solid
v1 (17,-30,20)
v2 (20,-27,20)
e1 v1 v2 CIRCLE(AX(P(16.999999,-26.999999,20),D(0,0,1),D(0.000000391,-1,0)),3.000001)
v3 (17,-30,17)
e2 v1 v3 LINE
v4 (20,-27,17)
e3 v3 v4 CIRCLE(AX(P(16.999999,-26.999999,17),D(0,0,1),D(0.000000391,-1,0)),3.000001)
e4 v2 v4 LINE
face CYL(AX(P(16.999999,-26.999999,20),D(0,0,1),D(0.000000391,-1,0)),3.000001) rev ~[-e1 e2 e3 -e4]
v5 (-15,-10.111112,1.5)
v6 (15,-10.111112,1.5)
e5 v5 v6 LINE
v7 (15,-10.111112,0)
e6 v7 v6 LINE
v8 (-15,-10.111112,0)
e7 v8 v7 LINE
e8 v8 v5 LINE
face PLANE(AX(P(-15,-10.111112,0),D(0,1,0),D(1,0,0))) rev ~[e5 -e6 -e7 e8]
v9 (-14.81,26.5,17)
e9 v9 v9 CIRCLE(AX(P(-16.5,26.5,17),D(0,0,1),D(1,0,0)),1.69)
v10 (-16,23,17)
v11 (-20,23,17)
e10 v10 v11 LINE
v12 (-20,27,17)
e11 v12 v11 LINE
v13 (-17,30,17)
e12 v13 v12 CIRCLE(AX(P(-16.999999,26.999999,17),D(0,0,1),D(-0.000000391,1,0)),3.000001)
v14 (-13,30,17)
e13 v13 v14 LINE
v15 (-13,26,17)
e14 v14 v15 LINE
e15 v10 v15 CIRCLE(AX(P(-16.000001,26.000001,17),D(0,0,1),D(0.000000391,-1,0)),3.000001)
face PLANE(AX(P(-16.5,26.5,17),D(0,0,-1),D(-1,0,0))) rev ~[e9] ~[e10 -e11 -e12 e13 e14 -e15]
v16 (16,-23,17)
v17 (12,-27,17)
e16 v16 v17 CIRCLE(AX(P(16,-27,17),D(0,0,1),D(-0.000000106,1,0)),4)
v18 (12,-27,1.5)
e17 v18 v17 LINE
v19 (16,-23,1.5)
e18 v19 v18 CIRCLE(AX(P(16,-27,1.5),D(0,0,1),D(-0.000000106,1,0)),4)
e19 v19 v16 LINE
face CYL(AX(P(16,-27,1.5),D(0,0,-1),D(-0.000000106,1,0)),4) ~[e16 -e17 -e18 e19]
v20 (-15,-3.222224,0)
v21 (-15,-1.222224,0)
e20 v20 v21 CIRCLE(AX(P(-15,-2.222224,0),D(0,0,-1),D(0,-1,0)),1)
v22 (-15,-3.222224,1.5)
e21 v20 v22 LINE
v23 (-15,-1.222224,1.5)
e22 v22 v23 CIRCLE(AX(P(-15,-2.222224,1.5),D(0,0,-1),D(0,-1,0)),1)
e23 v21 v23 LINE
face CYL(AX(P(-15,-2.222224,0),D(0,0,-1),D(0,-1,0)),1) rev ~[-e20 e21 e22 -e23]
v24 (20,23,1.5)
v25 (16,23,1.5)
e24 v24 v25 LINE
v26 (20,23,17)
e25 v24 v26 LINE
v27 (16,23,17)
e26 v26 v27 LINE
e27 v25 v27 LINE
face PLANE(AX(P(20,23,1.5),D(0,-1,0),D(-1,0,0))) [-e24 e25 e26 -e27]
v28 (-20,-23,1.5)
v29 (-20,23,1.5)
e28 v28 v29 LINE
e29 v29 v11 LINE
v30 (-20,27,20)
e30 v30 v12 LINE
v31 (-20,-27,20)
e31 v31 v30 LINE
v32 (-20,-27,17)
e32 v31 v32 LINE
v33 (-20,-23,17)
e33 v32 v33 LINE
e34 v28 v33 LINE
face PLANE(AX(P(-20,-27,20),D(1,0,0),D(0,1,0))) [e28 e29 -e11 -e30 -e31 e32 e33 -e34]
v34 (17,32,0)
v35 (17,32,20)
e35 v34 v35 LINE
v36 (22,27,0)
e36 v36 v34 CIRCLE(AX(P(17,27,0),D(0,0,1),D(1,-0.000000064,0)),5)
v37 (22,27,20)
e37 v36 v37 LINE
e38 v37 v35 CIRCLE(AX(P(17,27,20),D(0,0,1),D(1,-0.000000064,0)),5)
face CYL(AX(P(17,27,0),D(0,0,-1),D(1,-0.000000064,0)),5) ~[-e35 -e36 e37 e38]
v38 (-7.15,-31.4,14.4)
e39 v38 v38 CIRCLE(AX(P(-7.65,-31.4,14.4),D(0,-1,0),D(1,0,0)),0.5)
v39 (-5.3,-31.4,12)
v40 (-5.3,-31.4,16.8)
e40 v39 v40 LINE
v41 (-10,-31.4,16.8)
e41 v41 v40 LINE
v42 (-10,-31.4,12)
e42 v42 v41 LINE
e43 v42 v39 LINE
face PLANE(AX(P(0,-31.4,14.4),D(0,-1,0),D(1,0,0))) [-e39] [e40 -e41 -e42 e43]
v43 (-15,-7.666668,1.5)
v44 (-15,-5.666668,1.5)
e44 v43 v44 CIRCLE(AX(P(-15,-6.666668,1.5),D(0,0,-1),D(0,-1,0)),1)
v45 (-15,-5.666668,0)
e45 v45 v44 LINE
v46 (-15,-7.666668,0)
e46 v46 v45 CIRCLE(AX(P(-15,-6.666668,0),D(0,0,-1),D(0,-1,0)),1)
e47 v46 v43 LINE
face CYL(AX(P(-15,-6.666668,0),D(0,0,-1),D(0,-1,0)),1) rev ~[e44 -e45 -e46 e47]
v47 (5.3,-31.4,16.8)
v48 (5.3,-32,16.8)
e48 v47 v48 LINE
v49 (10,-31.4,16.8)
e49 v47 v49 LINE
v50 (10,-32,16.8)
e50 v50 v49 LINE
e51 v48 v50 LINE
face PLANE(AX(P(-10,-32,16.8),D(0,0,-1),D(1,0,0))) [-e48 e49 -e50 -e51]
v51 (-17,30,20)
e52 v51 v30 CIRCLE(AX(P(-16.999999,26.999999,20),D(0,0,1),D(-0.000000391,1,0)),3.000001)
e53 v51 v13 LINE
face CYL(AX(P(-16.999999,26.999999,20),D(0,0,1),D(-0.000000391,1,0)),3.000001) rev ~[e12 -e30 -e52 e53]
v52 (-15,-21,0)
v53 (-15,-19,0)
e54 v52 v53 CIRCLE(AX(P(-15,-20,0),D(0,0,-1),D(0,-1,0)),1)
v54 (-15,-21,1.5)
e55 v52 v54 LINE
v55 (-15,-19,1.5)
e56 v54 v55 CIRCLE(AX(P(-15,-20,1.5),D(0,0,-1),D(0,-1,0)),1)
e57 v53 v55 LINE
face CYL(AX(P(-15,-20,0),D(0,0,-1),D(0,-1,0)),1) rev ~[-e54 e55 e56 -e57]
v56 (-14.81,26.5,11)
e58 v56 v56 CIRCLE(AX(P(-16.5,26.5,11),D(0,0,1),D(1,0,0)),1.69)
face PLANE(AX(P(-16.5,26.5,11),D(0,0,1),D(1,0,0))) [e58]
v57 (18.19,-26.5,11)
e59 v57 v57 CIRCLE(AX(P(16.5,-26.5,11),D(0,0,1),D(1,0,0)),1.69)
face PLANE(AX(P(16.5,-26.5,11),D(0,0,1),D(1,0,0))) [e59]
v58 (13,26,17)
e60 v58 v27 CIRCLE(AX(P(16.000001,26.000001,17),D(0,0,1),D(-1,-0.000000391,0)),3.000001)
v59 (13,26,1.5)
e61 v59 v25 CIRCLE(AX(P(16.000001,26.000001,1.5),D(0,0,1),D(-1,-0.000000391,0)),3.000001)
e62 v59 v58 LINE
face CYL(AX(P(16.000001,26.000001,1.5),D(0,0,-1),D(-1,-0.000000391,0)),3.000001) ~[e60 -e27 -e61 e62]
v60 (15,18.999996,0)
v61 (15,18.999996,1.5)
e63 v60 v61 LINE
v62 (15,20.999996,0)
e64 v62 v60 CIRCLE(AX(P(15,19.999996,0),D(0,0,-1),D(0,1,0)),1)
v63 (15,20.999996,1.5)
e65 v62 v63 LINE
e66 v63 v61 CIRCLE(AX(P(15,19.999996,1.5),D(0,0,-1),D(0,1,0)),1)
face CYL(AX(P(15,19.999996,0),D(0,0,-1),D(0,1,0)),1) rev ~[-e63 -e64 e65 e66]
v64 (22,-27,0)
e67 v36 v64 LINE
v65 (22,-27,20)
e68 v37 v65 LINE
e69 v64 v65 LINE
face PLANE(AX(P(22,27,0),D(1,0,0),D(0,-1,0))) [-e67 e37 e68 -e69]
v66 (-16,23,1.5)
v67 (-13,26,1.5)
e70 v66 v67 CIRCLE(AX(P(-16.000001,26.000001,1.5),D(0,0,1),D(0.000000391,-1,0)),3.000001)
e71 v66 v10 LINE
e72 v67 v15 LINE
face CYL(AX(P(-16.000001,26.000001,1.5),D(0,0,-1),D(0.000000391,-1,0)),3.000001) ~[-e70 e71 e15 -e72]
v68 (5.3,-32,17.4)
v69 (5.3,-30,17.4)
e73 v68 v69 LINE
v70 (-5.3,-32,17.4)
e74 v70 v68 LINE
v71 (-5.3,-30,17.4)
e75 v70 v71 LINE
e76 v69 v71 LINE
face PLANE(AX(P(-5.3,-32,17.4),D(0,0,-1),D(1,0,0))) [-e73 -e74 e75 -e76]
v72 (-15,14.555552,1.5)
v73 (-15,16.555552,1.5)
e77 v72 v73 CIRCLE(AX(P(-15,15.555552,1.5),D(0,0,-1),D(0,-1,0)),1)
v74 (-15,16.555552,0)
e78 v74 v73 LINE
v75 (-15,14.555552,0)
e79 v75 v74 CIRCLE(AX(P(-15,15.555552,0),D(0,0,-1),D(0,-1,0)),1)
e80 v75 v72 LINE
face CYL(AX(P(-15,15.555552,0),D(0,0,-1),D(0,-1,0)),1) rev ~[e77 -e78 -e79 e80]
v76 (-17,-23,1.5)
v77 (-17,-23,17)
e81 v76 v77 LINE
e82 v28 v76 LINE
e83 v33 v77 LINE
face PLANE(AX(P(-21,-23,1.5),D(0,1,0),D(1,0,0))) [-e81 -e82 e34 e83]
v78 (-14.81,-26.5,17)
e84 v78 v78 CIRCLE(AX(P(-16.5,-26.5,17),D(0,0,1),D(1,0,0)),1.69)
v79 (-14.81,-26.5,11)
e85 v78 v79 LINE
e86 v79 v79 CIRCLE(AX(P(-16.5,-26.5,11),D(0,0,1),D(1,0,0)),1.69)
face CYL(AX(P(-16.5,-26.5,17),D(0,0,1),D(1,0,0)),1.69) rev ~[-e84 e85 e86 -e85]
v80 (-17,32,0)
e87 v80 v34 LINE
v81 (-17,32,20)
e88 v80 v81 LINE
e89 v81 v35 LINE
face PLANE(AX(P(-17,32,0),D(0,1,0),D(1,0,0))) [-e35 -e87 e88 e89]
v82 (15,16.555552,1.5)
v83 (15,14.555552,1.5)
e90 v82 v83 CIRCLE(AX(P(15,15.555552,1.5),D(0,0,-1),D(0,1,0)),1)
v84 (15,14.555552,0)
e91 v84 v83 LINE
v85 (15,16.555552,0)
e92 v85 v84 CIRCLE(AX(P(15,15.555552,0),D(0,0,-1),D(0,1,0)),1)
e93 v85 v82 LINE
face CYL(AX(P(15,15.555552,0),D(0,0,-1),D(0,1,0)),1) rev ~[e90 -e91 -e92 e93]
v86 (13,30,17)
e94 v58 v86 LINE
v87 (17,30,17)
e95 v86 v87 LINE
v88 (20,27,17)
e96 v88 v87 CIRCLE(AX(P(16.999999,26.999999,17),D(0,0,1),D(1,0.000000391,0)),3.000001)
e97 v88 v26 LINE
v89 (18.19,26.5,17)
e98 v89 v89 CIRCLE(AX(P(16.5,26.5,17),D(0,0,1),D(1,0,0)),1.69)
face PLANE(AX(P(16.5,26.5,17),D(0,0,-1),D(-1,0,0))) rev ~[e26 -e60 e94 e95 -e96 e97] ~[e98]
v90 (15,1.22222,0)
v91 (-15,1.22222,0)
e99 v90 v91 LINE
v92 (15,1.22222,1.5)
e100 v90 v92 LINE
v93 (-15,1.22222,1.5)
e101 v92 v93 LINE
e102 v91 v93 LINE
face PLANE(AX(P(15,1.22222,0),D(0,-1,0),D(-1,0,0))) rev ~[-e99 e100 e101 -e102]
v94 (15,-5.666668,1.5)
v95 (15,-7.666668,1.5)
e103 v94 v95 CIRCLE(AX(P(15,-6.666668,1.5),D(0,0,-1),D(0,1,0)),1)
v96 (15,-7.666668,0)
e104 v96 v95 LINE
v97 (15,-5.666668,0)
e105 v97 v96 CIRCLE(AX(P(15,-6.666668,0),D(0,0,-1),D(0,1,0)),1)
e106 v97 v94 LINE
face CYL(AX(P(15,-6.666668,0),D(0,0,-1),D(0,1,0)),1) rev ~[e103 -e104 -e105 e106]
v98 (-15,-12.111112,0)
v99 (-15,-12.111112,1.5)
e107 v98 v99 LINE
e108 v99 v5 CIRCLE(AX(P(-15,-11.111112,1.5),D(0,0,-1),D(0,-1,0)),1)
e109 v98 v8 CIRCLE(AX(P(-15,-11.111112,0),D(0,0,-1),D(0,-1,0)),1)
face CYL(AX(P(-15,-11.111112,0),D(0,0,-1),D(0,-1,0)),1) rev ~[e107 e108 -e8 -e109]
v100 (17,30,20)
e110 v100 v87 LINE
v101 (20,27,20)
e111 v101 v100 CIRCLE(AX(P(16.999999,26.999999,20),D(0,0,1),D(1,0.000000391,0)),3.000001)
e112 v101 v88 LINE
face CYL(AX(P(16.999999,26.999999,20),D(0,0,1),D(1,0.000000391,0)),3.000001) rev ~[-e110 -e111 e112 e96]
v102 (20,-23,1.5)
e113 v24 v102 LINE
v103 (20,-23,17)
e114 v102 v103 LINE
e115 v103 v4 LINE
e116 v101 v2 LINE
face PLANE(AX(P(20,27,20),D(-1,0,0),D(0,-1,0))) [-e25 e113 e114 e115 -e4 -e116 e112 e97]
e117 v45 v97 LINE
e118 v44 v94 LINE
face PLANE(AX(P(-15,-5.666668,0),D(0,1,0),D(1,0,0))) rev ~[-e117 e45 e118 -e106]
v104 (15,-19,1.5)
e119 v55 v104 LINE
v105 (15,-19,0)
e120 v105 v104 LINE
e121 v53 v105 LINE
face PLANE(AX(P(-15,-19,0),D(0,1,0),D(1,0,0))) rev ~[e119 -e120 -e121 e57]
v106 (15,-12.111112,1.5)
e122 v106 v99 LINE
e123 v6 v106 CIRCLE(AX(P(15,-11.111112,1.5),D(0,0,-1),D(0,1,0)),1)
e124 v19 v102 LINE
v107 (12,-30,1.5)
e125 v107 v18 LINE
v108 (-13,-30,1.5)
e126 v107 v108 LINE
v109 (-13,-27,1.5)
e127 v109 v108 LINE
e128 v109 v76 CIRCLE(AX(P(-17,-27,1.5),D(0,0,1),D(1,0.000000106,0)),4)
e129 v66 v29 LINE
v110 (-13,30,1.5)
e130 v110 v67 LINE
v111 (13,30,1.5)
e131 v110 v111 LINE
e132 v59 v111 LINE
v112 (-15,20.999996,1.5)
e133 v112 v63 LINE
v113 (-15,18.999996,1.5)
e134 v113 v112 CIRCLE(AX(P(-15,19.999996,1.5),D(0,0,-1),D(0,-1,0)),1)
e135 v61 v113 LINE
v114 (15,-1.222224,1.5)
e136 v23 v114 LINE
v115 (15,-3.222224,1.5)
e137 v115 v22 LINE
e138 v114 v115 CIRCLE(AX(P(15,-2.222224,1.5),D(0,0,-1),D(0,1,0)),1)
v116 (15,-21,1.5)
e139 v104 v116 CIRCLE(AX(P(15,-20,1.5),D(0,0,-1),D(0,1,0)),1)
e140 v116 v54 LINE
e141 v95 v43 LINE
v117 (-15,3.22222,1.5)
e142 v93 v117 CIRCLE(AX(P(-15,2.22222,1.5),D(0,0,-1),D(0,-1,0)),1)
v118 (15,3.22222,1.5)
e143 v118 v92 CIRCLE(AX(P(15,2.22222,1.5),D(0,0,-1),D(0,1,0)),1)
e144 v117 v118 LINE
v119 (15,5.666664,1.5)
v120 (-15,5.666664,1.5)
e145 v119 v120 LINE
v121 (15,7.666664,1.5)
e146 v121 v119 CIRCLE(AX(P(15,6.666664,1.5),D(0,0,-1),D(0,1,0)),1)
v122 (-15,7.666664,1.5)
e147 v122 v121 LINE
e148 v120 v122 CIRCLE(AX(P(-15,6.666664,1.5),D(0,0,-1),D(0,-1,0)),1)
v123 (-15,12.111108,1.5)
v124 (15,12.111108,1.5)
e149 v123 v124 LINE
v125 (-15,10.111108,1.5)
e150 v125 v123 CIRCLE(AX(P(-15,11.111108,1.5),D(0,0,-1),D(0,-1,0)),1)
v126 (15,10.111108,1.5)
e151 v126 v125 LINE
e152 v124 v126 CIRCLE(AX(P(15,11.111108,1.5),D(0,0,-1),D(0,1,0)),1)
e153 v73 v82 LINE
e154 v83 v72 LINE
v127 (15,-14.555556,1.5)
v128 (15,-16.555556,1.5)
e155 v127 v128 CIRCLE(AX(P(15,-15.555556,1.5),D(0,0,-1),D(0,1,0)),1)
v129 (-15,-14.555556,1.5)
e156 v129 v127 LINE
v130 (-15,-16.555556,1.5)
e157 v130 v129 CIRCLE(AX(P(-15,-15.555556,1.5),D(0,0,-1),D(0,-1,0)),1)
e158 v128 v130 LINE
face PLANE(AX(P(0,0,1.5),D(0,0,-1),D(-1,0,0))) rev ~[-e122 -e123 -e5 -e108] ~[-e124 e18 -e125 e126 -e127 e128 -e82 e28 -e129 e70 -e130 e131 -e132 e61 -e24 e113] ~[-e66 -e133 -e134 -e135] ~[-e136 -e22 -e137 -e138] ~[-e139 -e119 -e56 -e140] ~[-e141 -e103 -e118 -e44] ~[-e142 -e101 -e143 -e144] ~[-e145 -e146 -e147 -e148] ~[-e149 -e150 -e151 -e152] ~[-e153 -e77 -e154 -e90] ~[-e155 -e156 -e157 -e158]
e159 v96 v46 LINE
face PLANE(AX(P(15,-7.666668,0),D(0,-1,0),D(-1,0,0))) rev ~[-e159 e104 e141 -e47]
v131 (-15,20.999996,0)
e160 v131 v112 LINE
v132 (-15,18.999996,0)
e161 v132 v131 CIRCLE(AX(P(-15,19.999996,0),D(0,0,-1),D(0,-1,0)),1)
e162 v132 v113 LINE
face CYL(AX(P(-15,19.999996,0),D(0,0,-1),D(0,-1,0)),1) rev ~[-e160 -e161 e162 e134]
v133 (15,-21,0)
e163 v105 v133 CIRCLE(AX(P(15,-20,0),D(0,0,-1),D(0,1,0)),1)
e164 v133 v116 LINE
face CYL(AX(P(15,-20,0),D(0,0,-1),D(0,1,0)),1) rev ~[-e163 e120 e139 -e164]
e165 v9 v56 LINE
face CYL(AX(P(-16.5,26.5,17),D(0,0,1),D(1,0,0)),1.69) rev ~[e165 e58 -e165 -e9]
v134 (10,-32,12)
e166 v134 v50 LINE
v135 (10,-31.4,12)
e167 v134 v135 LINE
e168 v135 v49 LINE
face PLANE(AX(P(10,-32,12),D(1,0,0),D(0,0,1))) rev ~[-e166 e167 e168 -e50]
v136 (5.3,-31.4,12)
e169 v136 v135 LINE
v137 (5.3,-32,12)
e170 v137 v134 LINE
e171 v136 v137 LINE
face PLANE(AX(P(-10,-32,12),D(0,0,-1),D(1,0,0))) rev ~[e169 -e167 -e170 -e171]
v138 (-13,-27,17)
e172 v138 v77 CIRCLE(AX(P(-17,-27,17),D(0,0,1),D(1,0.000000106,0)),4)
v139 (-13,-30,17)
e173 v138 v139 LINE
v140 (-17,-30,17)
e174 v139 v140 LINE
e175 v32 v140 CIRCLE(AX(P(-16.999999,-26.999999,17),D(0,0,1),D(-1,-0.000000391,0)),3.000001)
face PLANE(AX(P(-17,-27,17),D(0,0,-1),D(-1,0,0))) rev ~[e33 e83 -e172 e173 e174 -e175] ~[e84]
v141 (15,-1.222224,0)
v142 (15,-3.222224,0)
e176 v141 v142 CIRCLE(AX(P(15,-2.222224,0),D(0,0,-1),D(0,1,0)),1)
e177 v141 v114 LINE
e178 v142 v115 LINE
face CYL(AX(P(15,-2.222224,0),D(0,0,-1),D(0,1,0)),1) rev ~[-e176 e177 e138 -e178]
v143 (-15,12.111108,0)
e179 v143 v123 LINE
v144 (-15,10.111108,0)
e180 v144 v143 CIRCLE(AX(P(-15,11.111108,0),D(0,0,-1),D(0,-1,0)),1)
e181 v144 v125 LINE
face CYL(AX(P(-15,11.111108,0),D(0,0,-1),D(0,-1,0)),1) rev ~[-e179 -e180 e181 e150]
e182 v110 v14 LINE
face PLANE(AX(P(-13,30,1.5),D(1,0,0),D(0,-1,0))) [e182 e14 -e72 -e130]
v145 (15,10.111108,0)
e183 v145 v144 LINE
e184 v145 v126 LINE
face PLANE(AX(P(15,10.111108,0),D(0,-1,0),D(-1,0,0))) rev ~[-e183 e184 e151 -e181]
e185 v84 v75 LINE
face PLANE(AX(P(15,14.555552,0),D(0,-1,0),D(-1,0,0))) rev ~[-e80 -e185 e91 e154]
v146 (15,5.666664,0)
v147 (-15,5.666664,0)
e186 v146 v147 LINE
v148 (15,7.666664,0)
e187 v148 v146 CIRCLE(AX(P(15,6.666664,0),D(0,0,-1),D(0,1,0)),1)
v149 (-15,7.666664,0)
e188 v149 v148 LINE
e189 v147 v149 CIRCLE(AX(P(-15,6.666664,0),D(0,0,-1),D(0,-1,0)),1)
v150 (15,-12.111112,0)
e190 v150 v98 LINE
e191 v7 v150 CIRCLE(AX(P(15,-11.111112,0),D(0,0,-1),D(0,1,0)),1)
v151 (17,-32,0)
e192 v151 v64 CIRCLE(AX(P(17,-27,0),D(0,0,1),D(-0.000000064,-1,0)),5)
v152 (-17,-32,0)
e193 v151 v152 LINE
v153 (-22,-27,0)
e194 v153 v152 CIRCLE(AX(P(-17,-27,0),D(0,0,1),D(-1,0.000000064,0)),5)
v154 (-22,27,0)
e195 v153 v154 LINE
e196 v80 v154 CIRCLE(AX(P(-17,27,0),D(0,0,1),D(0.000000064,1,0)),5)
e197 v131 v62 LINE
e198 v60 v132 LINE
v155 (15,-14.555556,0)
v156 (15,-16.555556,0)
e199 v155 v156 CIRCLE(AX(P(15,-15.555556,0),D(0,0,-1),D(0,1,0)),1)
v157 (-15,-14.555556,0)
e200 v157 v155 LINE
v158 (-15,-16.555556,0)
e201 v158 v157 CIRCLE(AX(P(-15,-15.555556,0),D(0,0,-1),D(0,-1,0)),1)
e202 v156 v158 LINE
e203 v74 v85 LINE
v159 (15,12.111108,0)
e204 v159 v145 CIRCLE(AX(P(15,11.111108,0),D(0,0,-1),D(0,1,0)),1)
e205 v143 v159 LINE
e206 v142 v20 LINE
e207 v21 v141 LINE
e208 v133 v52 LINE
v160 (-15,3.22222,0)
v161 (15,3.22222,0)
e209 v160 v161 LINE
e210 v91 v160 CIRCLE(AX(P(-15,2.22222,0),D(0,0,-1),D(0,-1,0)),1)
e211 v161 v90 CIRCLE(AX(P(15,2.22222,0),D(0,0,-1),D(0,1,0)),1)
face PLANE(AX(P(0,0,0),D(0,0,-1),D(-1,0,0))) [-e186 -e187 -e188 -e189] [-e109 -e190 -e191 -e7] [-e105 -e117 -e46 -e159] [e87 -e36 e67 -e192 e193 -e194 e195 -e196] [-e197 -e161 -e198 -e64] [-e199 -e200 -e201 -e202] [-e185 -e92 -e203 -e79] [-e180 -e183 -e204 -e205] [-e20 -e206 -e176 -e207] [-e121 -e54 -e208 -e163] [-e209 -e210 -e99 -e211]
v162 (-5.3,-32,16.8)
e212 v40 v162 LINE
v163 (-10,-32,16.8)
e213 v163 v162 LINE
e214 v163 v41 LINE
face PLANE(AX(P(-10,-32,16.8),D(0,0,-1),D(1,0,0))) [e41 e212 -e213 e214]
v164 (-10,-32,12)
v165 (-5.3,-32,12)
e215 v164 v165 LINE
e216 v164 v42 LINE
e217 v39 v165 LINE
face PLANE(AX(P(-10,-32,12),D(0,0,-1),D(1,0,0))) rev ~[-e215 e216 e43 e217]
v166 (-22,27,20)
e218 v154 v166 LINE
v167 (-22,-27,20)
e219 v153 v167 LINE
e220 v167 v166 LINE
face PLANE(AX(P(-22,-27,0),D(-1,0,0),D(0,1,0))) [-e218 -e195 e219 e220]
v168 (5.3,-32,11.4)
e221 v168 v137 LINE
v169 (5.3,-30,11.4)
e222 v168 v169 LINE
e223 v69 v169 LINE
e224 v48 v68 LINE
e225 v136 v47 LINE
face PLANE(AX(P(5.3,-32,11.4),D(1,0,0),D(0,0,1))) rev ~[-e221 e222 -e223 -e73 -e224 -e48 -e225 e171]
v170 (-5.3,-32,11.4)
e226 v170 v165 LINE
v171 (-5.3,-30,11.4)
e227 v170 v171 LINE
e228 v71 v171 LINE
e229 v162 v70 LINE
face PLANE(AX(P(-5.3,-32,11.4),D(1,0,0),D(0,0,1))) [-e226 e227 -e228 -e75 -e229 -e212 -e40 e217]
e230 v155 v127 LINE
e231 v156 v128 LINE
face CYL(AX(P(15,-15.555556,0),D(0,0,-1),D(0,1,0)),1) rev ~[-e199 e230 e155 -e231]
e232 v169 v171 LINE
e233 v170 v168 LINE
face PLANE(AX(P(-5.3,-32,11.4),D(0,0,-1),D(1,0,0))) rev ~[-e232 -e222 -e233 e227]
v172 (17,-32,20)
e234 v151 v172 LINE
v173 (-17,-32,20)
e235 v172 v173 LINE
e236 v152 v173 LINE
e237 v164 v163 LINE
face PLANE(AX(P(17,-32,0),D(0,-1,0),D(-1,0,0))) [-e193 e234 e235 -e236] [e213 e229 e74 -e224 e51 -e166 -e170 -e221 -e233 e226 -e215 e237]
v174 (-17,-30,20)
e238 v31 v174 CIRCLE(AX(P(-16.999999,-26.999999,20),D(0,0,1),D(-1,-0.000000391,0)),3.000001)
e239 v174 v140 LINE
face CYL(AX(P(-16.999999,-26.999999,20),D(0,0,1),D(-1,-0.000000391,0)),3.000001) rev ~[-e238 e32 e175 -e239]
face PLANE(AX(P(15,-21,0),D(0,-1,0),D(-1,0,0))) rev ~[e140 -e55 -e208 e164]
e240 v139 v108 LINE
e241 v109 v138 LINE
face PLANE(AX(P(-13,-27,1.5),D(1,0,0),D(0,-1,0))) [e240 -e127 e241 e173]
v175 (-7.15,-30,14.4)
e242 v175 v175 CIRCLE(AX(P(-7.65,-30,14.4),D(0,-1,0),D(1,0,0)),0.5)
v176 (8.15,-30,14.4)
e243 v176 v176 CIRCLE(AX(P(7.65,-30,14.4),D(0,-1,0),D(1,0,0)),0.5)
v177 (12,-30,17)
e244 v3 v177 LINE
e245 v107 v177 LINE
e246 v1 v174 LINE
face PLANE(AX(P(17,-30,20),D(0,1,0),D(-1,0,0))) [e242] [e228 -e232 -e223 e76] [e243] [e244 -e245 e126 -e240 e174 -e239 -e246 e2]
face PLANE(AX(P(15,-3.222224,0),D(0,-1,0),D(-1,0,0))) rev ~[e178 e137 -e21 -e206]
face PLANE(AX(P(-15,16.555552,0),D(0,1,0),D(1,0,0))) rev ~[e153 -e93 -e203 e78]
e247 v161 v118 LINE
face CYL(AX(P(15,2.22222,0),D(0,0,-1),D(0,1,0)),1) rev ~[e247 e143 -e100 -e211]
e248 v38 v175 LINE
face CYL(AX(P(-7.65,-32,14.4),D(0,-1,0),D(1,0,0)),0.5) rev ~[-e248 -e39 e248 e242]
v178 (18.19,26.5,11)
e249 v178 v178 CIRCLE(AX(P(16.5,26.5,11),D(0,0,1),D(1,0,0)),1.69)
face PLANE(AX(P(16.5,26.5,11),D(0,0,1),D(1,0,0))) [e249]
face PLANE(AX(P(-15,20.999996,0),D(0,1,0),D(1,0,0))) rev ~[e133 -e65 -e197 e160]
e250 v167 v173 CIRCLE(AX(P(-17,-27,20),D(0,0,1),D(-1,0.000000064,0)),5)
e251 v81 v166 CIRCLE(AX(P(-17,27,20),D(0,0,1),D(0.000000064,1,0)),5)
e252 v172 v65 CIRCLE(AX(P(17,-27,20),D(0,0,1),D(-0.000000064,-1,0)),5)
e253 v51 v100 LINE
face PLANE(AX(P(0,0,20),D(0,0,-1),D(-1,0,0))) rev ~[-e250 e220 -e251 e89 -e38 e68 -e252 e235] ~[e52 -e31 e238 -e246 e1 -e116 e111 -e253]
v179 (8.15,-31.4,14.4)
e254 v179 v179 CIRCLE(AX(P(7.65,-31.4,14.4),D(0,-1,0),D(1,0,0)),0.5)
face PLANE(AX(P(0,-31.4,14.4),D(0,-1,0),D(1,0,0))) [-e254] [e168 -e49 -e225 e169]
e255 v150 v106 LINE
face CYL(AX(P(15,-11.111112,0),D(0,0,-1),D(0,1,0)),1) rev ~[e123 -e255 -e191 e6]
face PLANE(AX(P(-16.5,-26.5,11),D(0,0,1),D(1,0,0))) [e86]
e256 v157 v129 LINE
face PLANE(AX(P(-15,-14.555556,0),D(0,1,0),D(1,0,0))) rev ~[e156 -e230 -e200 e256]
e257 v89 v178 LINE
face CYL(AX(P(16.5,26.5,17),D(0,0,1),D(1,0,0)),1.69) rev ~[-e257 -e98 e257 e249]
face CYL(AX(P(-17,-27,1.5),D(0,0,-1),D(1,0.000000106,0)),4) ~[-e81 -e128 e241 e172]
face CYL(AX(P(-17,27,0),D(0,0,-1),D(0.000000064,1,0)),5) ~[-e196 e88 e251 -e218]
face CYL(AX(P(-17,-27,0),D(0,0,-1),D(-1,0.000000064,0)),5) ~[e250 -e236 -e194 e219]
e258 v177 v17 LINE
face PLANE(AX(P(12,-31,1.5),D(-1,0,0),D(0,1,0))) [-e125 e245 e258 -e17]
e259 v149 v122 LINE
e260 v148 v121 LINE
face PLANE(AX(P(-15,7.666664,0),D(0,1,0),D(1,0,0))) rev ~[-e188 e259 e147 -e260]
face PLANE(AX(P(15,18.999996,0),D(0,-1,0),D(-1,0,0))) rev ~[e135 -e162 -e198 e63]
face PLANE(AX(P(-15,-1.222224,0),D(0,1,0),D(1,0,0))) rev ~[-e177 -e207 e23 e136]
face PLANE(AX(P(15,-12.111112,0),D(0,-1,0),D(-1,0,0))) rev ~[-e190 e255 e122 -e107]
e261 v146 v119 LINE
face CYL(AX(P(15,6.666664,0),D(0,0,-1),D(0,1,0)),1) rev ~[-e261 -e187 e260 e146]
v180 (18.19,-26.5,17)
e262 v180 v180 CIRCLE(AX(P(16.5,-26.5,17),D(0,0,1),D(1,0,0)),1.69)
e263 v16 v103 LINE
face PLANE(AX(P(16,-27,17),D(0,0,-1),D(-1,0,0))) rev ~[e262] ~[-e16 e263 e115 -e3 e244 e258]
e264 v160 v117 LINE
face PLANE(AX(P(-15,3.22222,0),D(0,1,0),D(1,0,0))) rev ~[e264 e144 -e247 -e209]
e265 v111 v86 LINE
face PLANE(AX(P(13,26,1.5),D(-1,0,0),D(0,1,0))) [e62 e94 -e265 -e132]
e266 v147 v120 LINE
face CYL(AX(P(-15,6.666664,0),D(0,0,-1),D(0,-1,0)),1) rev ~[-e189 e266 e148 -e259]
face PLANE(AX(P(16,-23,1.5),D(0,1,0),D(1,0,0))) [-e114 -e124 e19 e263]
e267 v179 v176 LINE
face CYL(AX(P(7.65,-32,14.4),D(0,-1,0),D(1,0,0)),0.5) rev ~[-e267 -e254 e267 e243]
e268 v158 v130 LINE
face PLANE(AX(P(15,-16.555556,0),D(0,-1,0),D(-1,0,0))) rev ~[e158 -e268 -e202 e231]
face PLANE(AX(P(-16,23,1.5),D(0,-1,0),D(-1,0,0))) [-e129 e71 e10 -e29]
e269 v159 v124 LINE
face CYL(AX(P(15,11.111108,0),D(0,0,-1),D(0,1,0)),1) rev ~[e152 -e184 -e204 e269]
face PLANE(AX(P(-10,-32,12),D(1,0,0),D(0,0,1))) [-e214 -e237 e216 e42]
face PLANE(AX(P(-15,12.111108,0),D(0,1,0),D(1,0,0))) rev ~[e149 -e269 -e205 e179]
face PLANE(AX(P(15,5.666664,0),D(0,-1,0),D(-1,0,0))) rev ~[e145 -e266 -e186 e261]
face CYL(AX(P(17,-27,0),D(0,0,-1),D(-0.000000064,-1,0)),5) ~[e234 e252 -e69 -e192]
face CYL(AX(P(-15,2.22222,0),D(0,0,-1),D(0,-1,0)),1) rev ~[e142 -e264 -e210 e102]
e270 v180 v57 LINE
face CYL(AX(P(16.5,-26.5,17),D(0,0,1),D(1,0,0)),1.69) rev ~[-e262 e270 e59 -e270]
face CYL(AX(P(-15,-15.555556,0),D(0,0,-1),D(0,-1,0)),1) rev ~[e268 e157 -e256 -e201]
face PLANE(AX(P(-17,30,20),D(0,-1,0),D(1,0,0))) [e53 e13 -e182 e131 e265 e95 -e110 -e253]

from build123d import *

# Parameters (mm, degrees)
PAD_DEPTH           = 20
POCKET_DEPTH        = 18.5
POCKET001_DEPTH     = 5
LINEARPATTERN_COUNT = 10
LINEARPATTERN_PITCH = 4.444444
PAD001_DEPTH        = 15.5
SKETCH004_R         = 1.69
POCKET002_DEPTH     = 6
SKETCH005_W         = 20
SKETCH005_H         = 4.8
POCKET003_DEPTH     = 0.6
SKETCH006_R         = 0.5
SKETCH006_W         = 10.6
SKETCH006_H         = 6
POCKET004_DEPTH     = 5


with BuildPart() as part:
    # Sketch → Pad (new body)
    with BuildSketch(Plane.XY):
        with BuildLine():
            Line((-17, 32), (17, 32))
            ThreePointArc((22, 27), (20.535534, 30.535534), (17, 32))
            Line((22, 27), (22, -27))
            ThreePointArc((17, -32), (20.535534, -30.535534), (22, -27))
            Line((17, -32), (-17, -32))
            ThreePointArc((-22, -27), (-20.535534, -30.535534), (-17, -32))
            Line((-22, -27), (-22, 27))
            ThreePointArc((-17, 32), (-20.535534, 30.535534), (-22, 27))
        make_face()
    extrude(amount=PAD_DEPTH)

    # Sketch001 (on Face10 of Pad) → Pocket (cut)
    with BuildSketch(Plane.XY.offset(20)):
        with BuildLine():
            Line((-17, 30), (17, 30))
            ThreePointArc((20, 27), (19.12132, 29.12132), (17, 30))
            Line((20, 27), (20, -27))
            ThreePointArc((17, -30), (19.12132, -29.12132), (20, -27))
            Line((17, -30), (-17, -30))
            ThreePointArc((-20, -27), (-19.12132, -29.12132), (-17, -30))
            Line((-20, -27), (-20, 27))
            ThreePointArc((-17, 30), (-19.12132, 29.12132), (-20, 27))
        make_face()
    extrude(amount=-POCKET_DEPTH, mode=Mode.SUBTRACT)

    # Sketch002 (on Face4 of Pocket) → Pocket001 (cut)
    with BuildSketch(Plane(origin=(0, 0, 0), x_dir=(1, 0, 0), z_dir=(0, 0, -1))):
        with BuildLine():
            ThreePointArc((-15, 21), (-16, 20), (-15, 19))
            Line((-15, 19), (15, 19))
            ThreePointArc((15, 19), (16, 20), (15, 21))
            Line((15, 21), (-15, 21))
        make_face()
    pocket001 = extrude(amount=-POCKET001_DEPTH, mode=Mode.SUBTRACT)

    # LinearPattern: Pocket001 ×10
    with Locations(*[(0, i * LINEARPATTERN_PITCH, 0) for i in range(1, LINEARPATTERN_COUNT)]):
        add(pocket001, mode=Mode.SUBTRACT)

    # Sketch003 (on Face59 of LinearPattern) → Pad001 (join)
    with BuildSketch(Plane.XY.offset(1.5)):
        with BuildLine():
            Line((-17, 30), (-13, 30))
            Line((-13, 30), (-13, 26))
            ThreePointArc((-16, 23), (-13.87868, 23.87868), (-13, 26))
            Line((-16, 23), (-20, 23))
            Line((-20, 27), (-20, 23))
            ThreePointArc((-17, 30), (-19.12132, 29.12132), (-20, 27))
        make_face()
        with BuildLine():
            Line((13, 30), (17, 30))
            ThreePointArc((20, 27), (19.12132, 29.12132), (17, 30))
            Line((20, 27), (20, 23))
            Line((20, 23), (16, 23))
            ThreePointArc((13, 26), (13.87868, 23.87868), (16, 23))
            Line((13, 26), (13, 30))
        make_face()
        with BuildLine():
            Line((-21, -23), (-17, -23))
            ThreePointArc((-13, -27), (-14.171573, -24.171573), (-17, -23))
            Line((-13, -27), (-13, -31))
            Line((-13, -31), (-17, -31))
            ThreePointArc((-21, -27), (-19.828427, -29.828427), (-17, -31))
            Line((-21, -27), (-21, -23))
        make_face()
        with BuildLine():
            Line((16, -23), (20, -23))
            Line((20, -23), (20, -27))
            ThreePointArc((16, -31), (18.828427, -29.828427), (20, -27))
            Line((16, -31), (12, -31))
            Line((12, -31), (12, -27))
            ThreePointArc((16, -23), (13.171573, -24.171573), (12, -27))
        make_face()
    extrude(amount=PAD001_DEPTH)

    # Sketch004 (on Face69 of Pad001) → Pocket002 (cut)
    with BuildSketch(Plane.XY.offset(17)):
        with Locations((16.5, 26.5)):
            Circle(SKETCH004_R)
        with Locations((-16.5, 26.5)):
            Circle(SKETCH004_R)
        with Locations((-16.5, -26.5)):
            Circle(SKETCH004_R)
        with Locations((16.5, -26.5)):
            Circle(SKETCH004_R)
    extrude(amount=-POCKET002_DEPTH, mode=Mode.SUBTRACT)

    # Sketch005 (on Face6 of Pocket002) → Pocket003 (cut)
    with BuildSketch(Plane.XZ.offset(32)):
        with Locations((0, 14.4)):
            Rectangle(SKETCH005_W, SKETCH005_H)
    extrude(amount=-POCKET003_DEPTH, mode=Mode.SUBTRACT)

    # Sketch006 (on Face6 of Pocket003) → Pocket004 (cut)
    with BuildSketch(Plane.XZ.offset(32)):
        with Locations((7.65, 14.4)):
            Circle(SKETCH006_R)
        with Locations((-7.65, 14.4)):
            Circle(SKETCH006_R)
        with Locations((0, 14.4)):
            Rectangle(SKETCH006_W, SKETCH006_H)
    extrude(amount=-POCKET004_DEPTH, mode=Mode.SUBTRACT)


solid = part.part
